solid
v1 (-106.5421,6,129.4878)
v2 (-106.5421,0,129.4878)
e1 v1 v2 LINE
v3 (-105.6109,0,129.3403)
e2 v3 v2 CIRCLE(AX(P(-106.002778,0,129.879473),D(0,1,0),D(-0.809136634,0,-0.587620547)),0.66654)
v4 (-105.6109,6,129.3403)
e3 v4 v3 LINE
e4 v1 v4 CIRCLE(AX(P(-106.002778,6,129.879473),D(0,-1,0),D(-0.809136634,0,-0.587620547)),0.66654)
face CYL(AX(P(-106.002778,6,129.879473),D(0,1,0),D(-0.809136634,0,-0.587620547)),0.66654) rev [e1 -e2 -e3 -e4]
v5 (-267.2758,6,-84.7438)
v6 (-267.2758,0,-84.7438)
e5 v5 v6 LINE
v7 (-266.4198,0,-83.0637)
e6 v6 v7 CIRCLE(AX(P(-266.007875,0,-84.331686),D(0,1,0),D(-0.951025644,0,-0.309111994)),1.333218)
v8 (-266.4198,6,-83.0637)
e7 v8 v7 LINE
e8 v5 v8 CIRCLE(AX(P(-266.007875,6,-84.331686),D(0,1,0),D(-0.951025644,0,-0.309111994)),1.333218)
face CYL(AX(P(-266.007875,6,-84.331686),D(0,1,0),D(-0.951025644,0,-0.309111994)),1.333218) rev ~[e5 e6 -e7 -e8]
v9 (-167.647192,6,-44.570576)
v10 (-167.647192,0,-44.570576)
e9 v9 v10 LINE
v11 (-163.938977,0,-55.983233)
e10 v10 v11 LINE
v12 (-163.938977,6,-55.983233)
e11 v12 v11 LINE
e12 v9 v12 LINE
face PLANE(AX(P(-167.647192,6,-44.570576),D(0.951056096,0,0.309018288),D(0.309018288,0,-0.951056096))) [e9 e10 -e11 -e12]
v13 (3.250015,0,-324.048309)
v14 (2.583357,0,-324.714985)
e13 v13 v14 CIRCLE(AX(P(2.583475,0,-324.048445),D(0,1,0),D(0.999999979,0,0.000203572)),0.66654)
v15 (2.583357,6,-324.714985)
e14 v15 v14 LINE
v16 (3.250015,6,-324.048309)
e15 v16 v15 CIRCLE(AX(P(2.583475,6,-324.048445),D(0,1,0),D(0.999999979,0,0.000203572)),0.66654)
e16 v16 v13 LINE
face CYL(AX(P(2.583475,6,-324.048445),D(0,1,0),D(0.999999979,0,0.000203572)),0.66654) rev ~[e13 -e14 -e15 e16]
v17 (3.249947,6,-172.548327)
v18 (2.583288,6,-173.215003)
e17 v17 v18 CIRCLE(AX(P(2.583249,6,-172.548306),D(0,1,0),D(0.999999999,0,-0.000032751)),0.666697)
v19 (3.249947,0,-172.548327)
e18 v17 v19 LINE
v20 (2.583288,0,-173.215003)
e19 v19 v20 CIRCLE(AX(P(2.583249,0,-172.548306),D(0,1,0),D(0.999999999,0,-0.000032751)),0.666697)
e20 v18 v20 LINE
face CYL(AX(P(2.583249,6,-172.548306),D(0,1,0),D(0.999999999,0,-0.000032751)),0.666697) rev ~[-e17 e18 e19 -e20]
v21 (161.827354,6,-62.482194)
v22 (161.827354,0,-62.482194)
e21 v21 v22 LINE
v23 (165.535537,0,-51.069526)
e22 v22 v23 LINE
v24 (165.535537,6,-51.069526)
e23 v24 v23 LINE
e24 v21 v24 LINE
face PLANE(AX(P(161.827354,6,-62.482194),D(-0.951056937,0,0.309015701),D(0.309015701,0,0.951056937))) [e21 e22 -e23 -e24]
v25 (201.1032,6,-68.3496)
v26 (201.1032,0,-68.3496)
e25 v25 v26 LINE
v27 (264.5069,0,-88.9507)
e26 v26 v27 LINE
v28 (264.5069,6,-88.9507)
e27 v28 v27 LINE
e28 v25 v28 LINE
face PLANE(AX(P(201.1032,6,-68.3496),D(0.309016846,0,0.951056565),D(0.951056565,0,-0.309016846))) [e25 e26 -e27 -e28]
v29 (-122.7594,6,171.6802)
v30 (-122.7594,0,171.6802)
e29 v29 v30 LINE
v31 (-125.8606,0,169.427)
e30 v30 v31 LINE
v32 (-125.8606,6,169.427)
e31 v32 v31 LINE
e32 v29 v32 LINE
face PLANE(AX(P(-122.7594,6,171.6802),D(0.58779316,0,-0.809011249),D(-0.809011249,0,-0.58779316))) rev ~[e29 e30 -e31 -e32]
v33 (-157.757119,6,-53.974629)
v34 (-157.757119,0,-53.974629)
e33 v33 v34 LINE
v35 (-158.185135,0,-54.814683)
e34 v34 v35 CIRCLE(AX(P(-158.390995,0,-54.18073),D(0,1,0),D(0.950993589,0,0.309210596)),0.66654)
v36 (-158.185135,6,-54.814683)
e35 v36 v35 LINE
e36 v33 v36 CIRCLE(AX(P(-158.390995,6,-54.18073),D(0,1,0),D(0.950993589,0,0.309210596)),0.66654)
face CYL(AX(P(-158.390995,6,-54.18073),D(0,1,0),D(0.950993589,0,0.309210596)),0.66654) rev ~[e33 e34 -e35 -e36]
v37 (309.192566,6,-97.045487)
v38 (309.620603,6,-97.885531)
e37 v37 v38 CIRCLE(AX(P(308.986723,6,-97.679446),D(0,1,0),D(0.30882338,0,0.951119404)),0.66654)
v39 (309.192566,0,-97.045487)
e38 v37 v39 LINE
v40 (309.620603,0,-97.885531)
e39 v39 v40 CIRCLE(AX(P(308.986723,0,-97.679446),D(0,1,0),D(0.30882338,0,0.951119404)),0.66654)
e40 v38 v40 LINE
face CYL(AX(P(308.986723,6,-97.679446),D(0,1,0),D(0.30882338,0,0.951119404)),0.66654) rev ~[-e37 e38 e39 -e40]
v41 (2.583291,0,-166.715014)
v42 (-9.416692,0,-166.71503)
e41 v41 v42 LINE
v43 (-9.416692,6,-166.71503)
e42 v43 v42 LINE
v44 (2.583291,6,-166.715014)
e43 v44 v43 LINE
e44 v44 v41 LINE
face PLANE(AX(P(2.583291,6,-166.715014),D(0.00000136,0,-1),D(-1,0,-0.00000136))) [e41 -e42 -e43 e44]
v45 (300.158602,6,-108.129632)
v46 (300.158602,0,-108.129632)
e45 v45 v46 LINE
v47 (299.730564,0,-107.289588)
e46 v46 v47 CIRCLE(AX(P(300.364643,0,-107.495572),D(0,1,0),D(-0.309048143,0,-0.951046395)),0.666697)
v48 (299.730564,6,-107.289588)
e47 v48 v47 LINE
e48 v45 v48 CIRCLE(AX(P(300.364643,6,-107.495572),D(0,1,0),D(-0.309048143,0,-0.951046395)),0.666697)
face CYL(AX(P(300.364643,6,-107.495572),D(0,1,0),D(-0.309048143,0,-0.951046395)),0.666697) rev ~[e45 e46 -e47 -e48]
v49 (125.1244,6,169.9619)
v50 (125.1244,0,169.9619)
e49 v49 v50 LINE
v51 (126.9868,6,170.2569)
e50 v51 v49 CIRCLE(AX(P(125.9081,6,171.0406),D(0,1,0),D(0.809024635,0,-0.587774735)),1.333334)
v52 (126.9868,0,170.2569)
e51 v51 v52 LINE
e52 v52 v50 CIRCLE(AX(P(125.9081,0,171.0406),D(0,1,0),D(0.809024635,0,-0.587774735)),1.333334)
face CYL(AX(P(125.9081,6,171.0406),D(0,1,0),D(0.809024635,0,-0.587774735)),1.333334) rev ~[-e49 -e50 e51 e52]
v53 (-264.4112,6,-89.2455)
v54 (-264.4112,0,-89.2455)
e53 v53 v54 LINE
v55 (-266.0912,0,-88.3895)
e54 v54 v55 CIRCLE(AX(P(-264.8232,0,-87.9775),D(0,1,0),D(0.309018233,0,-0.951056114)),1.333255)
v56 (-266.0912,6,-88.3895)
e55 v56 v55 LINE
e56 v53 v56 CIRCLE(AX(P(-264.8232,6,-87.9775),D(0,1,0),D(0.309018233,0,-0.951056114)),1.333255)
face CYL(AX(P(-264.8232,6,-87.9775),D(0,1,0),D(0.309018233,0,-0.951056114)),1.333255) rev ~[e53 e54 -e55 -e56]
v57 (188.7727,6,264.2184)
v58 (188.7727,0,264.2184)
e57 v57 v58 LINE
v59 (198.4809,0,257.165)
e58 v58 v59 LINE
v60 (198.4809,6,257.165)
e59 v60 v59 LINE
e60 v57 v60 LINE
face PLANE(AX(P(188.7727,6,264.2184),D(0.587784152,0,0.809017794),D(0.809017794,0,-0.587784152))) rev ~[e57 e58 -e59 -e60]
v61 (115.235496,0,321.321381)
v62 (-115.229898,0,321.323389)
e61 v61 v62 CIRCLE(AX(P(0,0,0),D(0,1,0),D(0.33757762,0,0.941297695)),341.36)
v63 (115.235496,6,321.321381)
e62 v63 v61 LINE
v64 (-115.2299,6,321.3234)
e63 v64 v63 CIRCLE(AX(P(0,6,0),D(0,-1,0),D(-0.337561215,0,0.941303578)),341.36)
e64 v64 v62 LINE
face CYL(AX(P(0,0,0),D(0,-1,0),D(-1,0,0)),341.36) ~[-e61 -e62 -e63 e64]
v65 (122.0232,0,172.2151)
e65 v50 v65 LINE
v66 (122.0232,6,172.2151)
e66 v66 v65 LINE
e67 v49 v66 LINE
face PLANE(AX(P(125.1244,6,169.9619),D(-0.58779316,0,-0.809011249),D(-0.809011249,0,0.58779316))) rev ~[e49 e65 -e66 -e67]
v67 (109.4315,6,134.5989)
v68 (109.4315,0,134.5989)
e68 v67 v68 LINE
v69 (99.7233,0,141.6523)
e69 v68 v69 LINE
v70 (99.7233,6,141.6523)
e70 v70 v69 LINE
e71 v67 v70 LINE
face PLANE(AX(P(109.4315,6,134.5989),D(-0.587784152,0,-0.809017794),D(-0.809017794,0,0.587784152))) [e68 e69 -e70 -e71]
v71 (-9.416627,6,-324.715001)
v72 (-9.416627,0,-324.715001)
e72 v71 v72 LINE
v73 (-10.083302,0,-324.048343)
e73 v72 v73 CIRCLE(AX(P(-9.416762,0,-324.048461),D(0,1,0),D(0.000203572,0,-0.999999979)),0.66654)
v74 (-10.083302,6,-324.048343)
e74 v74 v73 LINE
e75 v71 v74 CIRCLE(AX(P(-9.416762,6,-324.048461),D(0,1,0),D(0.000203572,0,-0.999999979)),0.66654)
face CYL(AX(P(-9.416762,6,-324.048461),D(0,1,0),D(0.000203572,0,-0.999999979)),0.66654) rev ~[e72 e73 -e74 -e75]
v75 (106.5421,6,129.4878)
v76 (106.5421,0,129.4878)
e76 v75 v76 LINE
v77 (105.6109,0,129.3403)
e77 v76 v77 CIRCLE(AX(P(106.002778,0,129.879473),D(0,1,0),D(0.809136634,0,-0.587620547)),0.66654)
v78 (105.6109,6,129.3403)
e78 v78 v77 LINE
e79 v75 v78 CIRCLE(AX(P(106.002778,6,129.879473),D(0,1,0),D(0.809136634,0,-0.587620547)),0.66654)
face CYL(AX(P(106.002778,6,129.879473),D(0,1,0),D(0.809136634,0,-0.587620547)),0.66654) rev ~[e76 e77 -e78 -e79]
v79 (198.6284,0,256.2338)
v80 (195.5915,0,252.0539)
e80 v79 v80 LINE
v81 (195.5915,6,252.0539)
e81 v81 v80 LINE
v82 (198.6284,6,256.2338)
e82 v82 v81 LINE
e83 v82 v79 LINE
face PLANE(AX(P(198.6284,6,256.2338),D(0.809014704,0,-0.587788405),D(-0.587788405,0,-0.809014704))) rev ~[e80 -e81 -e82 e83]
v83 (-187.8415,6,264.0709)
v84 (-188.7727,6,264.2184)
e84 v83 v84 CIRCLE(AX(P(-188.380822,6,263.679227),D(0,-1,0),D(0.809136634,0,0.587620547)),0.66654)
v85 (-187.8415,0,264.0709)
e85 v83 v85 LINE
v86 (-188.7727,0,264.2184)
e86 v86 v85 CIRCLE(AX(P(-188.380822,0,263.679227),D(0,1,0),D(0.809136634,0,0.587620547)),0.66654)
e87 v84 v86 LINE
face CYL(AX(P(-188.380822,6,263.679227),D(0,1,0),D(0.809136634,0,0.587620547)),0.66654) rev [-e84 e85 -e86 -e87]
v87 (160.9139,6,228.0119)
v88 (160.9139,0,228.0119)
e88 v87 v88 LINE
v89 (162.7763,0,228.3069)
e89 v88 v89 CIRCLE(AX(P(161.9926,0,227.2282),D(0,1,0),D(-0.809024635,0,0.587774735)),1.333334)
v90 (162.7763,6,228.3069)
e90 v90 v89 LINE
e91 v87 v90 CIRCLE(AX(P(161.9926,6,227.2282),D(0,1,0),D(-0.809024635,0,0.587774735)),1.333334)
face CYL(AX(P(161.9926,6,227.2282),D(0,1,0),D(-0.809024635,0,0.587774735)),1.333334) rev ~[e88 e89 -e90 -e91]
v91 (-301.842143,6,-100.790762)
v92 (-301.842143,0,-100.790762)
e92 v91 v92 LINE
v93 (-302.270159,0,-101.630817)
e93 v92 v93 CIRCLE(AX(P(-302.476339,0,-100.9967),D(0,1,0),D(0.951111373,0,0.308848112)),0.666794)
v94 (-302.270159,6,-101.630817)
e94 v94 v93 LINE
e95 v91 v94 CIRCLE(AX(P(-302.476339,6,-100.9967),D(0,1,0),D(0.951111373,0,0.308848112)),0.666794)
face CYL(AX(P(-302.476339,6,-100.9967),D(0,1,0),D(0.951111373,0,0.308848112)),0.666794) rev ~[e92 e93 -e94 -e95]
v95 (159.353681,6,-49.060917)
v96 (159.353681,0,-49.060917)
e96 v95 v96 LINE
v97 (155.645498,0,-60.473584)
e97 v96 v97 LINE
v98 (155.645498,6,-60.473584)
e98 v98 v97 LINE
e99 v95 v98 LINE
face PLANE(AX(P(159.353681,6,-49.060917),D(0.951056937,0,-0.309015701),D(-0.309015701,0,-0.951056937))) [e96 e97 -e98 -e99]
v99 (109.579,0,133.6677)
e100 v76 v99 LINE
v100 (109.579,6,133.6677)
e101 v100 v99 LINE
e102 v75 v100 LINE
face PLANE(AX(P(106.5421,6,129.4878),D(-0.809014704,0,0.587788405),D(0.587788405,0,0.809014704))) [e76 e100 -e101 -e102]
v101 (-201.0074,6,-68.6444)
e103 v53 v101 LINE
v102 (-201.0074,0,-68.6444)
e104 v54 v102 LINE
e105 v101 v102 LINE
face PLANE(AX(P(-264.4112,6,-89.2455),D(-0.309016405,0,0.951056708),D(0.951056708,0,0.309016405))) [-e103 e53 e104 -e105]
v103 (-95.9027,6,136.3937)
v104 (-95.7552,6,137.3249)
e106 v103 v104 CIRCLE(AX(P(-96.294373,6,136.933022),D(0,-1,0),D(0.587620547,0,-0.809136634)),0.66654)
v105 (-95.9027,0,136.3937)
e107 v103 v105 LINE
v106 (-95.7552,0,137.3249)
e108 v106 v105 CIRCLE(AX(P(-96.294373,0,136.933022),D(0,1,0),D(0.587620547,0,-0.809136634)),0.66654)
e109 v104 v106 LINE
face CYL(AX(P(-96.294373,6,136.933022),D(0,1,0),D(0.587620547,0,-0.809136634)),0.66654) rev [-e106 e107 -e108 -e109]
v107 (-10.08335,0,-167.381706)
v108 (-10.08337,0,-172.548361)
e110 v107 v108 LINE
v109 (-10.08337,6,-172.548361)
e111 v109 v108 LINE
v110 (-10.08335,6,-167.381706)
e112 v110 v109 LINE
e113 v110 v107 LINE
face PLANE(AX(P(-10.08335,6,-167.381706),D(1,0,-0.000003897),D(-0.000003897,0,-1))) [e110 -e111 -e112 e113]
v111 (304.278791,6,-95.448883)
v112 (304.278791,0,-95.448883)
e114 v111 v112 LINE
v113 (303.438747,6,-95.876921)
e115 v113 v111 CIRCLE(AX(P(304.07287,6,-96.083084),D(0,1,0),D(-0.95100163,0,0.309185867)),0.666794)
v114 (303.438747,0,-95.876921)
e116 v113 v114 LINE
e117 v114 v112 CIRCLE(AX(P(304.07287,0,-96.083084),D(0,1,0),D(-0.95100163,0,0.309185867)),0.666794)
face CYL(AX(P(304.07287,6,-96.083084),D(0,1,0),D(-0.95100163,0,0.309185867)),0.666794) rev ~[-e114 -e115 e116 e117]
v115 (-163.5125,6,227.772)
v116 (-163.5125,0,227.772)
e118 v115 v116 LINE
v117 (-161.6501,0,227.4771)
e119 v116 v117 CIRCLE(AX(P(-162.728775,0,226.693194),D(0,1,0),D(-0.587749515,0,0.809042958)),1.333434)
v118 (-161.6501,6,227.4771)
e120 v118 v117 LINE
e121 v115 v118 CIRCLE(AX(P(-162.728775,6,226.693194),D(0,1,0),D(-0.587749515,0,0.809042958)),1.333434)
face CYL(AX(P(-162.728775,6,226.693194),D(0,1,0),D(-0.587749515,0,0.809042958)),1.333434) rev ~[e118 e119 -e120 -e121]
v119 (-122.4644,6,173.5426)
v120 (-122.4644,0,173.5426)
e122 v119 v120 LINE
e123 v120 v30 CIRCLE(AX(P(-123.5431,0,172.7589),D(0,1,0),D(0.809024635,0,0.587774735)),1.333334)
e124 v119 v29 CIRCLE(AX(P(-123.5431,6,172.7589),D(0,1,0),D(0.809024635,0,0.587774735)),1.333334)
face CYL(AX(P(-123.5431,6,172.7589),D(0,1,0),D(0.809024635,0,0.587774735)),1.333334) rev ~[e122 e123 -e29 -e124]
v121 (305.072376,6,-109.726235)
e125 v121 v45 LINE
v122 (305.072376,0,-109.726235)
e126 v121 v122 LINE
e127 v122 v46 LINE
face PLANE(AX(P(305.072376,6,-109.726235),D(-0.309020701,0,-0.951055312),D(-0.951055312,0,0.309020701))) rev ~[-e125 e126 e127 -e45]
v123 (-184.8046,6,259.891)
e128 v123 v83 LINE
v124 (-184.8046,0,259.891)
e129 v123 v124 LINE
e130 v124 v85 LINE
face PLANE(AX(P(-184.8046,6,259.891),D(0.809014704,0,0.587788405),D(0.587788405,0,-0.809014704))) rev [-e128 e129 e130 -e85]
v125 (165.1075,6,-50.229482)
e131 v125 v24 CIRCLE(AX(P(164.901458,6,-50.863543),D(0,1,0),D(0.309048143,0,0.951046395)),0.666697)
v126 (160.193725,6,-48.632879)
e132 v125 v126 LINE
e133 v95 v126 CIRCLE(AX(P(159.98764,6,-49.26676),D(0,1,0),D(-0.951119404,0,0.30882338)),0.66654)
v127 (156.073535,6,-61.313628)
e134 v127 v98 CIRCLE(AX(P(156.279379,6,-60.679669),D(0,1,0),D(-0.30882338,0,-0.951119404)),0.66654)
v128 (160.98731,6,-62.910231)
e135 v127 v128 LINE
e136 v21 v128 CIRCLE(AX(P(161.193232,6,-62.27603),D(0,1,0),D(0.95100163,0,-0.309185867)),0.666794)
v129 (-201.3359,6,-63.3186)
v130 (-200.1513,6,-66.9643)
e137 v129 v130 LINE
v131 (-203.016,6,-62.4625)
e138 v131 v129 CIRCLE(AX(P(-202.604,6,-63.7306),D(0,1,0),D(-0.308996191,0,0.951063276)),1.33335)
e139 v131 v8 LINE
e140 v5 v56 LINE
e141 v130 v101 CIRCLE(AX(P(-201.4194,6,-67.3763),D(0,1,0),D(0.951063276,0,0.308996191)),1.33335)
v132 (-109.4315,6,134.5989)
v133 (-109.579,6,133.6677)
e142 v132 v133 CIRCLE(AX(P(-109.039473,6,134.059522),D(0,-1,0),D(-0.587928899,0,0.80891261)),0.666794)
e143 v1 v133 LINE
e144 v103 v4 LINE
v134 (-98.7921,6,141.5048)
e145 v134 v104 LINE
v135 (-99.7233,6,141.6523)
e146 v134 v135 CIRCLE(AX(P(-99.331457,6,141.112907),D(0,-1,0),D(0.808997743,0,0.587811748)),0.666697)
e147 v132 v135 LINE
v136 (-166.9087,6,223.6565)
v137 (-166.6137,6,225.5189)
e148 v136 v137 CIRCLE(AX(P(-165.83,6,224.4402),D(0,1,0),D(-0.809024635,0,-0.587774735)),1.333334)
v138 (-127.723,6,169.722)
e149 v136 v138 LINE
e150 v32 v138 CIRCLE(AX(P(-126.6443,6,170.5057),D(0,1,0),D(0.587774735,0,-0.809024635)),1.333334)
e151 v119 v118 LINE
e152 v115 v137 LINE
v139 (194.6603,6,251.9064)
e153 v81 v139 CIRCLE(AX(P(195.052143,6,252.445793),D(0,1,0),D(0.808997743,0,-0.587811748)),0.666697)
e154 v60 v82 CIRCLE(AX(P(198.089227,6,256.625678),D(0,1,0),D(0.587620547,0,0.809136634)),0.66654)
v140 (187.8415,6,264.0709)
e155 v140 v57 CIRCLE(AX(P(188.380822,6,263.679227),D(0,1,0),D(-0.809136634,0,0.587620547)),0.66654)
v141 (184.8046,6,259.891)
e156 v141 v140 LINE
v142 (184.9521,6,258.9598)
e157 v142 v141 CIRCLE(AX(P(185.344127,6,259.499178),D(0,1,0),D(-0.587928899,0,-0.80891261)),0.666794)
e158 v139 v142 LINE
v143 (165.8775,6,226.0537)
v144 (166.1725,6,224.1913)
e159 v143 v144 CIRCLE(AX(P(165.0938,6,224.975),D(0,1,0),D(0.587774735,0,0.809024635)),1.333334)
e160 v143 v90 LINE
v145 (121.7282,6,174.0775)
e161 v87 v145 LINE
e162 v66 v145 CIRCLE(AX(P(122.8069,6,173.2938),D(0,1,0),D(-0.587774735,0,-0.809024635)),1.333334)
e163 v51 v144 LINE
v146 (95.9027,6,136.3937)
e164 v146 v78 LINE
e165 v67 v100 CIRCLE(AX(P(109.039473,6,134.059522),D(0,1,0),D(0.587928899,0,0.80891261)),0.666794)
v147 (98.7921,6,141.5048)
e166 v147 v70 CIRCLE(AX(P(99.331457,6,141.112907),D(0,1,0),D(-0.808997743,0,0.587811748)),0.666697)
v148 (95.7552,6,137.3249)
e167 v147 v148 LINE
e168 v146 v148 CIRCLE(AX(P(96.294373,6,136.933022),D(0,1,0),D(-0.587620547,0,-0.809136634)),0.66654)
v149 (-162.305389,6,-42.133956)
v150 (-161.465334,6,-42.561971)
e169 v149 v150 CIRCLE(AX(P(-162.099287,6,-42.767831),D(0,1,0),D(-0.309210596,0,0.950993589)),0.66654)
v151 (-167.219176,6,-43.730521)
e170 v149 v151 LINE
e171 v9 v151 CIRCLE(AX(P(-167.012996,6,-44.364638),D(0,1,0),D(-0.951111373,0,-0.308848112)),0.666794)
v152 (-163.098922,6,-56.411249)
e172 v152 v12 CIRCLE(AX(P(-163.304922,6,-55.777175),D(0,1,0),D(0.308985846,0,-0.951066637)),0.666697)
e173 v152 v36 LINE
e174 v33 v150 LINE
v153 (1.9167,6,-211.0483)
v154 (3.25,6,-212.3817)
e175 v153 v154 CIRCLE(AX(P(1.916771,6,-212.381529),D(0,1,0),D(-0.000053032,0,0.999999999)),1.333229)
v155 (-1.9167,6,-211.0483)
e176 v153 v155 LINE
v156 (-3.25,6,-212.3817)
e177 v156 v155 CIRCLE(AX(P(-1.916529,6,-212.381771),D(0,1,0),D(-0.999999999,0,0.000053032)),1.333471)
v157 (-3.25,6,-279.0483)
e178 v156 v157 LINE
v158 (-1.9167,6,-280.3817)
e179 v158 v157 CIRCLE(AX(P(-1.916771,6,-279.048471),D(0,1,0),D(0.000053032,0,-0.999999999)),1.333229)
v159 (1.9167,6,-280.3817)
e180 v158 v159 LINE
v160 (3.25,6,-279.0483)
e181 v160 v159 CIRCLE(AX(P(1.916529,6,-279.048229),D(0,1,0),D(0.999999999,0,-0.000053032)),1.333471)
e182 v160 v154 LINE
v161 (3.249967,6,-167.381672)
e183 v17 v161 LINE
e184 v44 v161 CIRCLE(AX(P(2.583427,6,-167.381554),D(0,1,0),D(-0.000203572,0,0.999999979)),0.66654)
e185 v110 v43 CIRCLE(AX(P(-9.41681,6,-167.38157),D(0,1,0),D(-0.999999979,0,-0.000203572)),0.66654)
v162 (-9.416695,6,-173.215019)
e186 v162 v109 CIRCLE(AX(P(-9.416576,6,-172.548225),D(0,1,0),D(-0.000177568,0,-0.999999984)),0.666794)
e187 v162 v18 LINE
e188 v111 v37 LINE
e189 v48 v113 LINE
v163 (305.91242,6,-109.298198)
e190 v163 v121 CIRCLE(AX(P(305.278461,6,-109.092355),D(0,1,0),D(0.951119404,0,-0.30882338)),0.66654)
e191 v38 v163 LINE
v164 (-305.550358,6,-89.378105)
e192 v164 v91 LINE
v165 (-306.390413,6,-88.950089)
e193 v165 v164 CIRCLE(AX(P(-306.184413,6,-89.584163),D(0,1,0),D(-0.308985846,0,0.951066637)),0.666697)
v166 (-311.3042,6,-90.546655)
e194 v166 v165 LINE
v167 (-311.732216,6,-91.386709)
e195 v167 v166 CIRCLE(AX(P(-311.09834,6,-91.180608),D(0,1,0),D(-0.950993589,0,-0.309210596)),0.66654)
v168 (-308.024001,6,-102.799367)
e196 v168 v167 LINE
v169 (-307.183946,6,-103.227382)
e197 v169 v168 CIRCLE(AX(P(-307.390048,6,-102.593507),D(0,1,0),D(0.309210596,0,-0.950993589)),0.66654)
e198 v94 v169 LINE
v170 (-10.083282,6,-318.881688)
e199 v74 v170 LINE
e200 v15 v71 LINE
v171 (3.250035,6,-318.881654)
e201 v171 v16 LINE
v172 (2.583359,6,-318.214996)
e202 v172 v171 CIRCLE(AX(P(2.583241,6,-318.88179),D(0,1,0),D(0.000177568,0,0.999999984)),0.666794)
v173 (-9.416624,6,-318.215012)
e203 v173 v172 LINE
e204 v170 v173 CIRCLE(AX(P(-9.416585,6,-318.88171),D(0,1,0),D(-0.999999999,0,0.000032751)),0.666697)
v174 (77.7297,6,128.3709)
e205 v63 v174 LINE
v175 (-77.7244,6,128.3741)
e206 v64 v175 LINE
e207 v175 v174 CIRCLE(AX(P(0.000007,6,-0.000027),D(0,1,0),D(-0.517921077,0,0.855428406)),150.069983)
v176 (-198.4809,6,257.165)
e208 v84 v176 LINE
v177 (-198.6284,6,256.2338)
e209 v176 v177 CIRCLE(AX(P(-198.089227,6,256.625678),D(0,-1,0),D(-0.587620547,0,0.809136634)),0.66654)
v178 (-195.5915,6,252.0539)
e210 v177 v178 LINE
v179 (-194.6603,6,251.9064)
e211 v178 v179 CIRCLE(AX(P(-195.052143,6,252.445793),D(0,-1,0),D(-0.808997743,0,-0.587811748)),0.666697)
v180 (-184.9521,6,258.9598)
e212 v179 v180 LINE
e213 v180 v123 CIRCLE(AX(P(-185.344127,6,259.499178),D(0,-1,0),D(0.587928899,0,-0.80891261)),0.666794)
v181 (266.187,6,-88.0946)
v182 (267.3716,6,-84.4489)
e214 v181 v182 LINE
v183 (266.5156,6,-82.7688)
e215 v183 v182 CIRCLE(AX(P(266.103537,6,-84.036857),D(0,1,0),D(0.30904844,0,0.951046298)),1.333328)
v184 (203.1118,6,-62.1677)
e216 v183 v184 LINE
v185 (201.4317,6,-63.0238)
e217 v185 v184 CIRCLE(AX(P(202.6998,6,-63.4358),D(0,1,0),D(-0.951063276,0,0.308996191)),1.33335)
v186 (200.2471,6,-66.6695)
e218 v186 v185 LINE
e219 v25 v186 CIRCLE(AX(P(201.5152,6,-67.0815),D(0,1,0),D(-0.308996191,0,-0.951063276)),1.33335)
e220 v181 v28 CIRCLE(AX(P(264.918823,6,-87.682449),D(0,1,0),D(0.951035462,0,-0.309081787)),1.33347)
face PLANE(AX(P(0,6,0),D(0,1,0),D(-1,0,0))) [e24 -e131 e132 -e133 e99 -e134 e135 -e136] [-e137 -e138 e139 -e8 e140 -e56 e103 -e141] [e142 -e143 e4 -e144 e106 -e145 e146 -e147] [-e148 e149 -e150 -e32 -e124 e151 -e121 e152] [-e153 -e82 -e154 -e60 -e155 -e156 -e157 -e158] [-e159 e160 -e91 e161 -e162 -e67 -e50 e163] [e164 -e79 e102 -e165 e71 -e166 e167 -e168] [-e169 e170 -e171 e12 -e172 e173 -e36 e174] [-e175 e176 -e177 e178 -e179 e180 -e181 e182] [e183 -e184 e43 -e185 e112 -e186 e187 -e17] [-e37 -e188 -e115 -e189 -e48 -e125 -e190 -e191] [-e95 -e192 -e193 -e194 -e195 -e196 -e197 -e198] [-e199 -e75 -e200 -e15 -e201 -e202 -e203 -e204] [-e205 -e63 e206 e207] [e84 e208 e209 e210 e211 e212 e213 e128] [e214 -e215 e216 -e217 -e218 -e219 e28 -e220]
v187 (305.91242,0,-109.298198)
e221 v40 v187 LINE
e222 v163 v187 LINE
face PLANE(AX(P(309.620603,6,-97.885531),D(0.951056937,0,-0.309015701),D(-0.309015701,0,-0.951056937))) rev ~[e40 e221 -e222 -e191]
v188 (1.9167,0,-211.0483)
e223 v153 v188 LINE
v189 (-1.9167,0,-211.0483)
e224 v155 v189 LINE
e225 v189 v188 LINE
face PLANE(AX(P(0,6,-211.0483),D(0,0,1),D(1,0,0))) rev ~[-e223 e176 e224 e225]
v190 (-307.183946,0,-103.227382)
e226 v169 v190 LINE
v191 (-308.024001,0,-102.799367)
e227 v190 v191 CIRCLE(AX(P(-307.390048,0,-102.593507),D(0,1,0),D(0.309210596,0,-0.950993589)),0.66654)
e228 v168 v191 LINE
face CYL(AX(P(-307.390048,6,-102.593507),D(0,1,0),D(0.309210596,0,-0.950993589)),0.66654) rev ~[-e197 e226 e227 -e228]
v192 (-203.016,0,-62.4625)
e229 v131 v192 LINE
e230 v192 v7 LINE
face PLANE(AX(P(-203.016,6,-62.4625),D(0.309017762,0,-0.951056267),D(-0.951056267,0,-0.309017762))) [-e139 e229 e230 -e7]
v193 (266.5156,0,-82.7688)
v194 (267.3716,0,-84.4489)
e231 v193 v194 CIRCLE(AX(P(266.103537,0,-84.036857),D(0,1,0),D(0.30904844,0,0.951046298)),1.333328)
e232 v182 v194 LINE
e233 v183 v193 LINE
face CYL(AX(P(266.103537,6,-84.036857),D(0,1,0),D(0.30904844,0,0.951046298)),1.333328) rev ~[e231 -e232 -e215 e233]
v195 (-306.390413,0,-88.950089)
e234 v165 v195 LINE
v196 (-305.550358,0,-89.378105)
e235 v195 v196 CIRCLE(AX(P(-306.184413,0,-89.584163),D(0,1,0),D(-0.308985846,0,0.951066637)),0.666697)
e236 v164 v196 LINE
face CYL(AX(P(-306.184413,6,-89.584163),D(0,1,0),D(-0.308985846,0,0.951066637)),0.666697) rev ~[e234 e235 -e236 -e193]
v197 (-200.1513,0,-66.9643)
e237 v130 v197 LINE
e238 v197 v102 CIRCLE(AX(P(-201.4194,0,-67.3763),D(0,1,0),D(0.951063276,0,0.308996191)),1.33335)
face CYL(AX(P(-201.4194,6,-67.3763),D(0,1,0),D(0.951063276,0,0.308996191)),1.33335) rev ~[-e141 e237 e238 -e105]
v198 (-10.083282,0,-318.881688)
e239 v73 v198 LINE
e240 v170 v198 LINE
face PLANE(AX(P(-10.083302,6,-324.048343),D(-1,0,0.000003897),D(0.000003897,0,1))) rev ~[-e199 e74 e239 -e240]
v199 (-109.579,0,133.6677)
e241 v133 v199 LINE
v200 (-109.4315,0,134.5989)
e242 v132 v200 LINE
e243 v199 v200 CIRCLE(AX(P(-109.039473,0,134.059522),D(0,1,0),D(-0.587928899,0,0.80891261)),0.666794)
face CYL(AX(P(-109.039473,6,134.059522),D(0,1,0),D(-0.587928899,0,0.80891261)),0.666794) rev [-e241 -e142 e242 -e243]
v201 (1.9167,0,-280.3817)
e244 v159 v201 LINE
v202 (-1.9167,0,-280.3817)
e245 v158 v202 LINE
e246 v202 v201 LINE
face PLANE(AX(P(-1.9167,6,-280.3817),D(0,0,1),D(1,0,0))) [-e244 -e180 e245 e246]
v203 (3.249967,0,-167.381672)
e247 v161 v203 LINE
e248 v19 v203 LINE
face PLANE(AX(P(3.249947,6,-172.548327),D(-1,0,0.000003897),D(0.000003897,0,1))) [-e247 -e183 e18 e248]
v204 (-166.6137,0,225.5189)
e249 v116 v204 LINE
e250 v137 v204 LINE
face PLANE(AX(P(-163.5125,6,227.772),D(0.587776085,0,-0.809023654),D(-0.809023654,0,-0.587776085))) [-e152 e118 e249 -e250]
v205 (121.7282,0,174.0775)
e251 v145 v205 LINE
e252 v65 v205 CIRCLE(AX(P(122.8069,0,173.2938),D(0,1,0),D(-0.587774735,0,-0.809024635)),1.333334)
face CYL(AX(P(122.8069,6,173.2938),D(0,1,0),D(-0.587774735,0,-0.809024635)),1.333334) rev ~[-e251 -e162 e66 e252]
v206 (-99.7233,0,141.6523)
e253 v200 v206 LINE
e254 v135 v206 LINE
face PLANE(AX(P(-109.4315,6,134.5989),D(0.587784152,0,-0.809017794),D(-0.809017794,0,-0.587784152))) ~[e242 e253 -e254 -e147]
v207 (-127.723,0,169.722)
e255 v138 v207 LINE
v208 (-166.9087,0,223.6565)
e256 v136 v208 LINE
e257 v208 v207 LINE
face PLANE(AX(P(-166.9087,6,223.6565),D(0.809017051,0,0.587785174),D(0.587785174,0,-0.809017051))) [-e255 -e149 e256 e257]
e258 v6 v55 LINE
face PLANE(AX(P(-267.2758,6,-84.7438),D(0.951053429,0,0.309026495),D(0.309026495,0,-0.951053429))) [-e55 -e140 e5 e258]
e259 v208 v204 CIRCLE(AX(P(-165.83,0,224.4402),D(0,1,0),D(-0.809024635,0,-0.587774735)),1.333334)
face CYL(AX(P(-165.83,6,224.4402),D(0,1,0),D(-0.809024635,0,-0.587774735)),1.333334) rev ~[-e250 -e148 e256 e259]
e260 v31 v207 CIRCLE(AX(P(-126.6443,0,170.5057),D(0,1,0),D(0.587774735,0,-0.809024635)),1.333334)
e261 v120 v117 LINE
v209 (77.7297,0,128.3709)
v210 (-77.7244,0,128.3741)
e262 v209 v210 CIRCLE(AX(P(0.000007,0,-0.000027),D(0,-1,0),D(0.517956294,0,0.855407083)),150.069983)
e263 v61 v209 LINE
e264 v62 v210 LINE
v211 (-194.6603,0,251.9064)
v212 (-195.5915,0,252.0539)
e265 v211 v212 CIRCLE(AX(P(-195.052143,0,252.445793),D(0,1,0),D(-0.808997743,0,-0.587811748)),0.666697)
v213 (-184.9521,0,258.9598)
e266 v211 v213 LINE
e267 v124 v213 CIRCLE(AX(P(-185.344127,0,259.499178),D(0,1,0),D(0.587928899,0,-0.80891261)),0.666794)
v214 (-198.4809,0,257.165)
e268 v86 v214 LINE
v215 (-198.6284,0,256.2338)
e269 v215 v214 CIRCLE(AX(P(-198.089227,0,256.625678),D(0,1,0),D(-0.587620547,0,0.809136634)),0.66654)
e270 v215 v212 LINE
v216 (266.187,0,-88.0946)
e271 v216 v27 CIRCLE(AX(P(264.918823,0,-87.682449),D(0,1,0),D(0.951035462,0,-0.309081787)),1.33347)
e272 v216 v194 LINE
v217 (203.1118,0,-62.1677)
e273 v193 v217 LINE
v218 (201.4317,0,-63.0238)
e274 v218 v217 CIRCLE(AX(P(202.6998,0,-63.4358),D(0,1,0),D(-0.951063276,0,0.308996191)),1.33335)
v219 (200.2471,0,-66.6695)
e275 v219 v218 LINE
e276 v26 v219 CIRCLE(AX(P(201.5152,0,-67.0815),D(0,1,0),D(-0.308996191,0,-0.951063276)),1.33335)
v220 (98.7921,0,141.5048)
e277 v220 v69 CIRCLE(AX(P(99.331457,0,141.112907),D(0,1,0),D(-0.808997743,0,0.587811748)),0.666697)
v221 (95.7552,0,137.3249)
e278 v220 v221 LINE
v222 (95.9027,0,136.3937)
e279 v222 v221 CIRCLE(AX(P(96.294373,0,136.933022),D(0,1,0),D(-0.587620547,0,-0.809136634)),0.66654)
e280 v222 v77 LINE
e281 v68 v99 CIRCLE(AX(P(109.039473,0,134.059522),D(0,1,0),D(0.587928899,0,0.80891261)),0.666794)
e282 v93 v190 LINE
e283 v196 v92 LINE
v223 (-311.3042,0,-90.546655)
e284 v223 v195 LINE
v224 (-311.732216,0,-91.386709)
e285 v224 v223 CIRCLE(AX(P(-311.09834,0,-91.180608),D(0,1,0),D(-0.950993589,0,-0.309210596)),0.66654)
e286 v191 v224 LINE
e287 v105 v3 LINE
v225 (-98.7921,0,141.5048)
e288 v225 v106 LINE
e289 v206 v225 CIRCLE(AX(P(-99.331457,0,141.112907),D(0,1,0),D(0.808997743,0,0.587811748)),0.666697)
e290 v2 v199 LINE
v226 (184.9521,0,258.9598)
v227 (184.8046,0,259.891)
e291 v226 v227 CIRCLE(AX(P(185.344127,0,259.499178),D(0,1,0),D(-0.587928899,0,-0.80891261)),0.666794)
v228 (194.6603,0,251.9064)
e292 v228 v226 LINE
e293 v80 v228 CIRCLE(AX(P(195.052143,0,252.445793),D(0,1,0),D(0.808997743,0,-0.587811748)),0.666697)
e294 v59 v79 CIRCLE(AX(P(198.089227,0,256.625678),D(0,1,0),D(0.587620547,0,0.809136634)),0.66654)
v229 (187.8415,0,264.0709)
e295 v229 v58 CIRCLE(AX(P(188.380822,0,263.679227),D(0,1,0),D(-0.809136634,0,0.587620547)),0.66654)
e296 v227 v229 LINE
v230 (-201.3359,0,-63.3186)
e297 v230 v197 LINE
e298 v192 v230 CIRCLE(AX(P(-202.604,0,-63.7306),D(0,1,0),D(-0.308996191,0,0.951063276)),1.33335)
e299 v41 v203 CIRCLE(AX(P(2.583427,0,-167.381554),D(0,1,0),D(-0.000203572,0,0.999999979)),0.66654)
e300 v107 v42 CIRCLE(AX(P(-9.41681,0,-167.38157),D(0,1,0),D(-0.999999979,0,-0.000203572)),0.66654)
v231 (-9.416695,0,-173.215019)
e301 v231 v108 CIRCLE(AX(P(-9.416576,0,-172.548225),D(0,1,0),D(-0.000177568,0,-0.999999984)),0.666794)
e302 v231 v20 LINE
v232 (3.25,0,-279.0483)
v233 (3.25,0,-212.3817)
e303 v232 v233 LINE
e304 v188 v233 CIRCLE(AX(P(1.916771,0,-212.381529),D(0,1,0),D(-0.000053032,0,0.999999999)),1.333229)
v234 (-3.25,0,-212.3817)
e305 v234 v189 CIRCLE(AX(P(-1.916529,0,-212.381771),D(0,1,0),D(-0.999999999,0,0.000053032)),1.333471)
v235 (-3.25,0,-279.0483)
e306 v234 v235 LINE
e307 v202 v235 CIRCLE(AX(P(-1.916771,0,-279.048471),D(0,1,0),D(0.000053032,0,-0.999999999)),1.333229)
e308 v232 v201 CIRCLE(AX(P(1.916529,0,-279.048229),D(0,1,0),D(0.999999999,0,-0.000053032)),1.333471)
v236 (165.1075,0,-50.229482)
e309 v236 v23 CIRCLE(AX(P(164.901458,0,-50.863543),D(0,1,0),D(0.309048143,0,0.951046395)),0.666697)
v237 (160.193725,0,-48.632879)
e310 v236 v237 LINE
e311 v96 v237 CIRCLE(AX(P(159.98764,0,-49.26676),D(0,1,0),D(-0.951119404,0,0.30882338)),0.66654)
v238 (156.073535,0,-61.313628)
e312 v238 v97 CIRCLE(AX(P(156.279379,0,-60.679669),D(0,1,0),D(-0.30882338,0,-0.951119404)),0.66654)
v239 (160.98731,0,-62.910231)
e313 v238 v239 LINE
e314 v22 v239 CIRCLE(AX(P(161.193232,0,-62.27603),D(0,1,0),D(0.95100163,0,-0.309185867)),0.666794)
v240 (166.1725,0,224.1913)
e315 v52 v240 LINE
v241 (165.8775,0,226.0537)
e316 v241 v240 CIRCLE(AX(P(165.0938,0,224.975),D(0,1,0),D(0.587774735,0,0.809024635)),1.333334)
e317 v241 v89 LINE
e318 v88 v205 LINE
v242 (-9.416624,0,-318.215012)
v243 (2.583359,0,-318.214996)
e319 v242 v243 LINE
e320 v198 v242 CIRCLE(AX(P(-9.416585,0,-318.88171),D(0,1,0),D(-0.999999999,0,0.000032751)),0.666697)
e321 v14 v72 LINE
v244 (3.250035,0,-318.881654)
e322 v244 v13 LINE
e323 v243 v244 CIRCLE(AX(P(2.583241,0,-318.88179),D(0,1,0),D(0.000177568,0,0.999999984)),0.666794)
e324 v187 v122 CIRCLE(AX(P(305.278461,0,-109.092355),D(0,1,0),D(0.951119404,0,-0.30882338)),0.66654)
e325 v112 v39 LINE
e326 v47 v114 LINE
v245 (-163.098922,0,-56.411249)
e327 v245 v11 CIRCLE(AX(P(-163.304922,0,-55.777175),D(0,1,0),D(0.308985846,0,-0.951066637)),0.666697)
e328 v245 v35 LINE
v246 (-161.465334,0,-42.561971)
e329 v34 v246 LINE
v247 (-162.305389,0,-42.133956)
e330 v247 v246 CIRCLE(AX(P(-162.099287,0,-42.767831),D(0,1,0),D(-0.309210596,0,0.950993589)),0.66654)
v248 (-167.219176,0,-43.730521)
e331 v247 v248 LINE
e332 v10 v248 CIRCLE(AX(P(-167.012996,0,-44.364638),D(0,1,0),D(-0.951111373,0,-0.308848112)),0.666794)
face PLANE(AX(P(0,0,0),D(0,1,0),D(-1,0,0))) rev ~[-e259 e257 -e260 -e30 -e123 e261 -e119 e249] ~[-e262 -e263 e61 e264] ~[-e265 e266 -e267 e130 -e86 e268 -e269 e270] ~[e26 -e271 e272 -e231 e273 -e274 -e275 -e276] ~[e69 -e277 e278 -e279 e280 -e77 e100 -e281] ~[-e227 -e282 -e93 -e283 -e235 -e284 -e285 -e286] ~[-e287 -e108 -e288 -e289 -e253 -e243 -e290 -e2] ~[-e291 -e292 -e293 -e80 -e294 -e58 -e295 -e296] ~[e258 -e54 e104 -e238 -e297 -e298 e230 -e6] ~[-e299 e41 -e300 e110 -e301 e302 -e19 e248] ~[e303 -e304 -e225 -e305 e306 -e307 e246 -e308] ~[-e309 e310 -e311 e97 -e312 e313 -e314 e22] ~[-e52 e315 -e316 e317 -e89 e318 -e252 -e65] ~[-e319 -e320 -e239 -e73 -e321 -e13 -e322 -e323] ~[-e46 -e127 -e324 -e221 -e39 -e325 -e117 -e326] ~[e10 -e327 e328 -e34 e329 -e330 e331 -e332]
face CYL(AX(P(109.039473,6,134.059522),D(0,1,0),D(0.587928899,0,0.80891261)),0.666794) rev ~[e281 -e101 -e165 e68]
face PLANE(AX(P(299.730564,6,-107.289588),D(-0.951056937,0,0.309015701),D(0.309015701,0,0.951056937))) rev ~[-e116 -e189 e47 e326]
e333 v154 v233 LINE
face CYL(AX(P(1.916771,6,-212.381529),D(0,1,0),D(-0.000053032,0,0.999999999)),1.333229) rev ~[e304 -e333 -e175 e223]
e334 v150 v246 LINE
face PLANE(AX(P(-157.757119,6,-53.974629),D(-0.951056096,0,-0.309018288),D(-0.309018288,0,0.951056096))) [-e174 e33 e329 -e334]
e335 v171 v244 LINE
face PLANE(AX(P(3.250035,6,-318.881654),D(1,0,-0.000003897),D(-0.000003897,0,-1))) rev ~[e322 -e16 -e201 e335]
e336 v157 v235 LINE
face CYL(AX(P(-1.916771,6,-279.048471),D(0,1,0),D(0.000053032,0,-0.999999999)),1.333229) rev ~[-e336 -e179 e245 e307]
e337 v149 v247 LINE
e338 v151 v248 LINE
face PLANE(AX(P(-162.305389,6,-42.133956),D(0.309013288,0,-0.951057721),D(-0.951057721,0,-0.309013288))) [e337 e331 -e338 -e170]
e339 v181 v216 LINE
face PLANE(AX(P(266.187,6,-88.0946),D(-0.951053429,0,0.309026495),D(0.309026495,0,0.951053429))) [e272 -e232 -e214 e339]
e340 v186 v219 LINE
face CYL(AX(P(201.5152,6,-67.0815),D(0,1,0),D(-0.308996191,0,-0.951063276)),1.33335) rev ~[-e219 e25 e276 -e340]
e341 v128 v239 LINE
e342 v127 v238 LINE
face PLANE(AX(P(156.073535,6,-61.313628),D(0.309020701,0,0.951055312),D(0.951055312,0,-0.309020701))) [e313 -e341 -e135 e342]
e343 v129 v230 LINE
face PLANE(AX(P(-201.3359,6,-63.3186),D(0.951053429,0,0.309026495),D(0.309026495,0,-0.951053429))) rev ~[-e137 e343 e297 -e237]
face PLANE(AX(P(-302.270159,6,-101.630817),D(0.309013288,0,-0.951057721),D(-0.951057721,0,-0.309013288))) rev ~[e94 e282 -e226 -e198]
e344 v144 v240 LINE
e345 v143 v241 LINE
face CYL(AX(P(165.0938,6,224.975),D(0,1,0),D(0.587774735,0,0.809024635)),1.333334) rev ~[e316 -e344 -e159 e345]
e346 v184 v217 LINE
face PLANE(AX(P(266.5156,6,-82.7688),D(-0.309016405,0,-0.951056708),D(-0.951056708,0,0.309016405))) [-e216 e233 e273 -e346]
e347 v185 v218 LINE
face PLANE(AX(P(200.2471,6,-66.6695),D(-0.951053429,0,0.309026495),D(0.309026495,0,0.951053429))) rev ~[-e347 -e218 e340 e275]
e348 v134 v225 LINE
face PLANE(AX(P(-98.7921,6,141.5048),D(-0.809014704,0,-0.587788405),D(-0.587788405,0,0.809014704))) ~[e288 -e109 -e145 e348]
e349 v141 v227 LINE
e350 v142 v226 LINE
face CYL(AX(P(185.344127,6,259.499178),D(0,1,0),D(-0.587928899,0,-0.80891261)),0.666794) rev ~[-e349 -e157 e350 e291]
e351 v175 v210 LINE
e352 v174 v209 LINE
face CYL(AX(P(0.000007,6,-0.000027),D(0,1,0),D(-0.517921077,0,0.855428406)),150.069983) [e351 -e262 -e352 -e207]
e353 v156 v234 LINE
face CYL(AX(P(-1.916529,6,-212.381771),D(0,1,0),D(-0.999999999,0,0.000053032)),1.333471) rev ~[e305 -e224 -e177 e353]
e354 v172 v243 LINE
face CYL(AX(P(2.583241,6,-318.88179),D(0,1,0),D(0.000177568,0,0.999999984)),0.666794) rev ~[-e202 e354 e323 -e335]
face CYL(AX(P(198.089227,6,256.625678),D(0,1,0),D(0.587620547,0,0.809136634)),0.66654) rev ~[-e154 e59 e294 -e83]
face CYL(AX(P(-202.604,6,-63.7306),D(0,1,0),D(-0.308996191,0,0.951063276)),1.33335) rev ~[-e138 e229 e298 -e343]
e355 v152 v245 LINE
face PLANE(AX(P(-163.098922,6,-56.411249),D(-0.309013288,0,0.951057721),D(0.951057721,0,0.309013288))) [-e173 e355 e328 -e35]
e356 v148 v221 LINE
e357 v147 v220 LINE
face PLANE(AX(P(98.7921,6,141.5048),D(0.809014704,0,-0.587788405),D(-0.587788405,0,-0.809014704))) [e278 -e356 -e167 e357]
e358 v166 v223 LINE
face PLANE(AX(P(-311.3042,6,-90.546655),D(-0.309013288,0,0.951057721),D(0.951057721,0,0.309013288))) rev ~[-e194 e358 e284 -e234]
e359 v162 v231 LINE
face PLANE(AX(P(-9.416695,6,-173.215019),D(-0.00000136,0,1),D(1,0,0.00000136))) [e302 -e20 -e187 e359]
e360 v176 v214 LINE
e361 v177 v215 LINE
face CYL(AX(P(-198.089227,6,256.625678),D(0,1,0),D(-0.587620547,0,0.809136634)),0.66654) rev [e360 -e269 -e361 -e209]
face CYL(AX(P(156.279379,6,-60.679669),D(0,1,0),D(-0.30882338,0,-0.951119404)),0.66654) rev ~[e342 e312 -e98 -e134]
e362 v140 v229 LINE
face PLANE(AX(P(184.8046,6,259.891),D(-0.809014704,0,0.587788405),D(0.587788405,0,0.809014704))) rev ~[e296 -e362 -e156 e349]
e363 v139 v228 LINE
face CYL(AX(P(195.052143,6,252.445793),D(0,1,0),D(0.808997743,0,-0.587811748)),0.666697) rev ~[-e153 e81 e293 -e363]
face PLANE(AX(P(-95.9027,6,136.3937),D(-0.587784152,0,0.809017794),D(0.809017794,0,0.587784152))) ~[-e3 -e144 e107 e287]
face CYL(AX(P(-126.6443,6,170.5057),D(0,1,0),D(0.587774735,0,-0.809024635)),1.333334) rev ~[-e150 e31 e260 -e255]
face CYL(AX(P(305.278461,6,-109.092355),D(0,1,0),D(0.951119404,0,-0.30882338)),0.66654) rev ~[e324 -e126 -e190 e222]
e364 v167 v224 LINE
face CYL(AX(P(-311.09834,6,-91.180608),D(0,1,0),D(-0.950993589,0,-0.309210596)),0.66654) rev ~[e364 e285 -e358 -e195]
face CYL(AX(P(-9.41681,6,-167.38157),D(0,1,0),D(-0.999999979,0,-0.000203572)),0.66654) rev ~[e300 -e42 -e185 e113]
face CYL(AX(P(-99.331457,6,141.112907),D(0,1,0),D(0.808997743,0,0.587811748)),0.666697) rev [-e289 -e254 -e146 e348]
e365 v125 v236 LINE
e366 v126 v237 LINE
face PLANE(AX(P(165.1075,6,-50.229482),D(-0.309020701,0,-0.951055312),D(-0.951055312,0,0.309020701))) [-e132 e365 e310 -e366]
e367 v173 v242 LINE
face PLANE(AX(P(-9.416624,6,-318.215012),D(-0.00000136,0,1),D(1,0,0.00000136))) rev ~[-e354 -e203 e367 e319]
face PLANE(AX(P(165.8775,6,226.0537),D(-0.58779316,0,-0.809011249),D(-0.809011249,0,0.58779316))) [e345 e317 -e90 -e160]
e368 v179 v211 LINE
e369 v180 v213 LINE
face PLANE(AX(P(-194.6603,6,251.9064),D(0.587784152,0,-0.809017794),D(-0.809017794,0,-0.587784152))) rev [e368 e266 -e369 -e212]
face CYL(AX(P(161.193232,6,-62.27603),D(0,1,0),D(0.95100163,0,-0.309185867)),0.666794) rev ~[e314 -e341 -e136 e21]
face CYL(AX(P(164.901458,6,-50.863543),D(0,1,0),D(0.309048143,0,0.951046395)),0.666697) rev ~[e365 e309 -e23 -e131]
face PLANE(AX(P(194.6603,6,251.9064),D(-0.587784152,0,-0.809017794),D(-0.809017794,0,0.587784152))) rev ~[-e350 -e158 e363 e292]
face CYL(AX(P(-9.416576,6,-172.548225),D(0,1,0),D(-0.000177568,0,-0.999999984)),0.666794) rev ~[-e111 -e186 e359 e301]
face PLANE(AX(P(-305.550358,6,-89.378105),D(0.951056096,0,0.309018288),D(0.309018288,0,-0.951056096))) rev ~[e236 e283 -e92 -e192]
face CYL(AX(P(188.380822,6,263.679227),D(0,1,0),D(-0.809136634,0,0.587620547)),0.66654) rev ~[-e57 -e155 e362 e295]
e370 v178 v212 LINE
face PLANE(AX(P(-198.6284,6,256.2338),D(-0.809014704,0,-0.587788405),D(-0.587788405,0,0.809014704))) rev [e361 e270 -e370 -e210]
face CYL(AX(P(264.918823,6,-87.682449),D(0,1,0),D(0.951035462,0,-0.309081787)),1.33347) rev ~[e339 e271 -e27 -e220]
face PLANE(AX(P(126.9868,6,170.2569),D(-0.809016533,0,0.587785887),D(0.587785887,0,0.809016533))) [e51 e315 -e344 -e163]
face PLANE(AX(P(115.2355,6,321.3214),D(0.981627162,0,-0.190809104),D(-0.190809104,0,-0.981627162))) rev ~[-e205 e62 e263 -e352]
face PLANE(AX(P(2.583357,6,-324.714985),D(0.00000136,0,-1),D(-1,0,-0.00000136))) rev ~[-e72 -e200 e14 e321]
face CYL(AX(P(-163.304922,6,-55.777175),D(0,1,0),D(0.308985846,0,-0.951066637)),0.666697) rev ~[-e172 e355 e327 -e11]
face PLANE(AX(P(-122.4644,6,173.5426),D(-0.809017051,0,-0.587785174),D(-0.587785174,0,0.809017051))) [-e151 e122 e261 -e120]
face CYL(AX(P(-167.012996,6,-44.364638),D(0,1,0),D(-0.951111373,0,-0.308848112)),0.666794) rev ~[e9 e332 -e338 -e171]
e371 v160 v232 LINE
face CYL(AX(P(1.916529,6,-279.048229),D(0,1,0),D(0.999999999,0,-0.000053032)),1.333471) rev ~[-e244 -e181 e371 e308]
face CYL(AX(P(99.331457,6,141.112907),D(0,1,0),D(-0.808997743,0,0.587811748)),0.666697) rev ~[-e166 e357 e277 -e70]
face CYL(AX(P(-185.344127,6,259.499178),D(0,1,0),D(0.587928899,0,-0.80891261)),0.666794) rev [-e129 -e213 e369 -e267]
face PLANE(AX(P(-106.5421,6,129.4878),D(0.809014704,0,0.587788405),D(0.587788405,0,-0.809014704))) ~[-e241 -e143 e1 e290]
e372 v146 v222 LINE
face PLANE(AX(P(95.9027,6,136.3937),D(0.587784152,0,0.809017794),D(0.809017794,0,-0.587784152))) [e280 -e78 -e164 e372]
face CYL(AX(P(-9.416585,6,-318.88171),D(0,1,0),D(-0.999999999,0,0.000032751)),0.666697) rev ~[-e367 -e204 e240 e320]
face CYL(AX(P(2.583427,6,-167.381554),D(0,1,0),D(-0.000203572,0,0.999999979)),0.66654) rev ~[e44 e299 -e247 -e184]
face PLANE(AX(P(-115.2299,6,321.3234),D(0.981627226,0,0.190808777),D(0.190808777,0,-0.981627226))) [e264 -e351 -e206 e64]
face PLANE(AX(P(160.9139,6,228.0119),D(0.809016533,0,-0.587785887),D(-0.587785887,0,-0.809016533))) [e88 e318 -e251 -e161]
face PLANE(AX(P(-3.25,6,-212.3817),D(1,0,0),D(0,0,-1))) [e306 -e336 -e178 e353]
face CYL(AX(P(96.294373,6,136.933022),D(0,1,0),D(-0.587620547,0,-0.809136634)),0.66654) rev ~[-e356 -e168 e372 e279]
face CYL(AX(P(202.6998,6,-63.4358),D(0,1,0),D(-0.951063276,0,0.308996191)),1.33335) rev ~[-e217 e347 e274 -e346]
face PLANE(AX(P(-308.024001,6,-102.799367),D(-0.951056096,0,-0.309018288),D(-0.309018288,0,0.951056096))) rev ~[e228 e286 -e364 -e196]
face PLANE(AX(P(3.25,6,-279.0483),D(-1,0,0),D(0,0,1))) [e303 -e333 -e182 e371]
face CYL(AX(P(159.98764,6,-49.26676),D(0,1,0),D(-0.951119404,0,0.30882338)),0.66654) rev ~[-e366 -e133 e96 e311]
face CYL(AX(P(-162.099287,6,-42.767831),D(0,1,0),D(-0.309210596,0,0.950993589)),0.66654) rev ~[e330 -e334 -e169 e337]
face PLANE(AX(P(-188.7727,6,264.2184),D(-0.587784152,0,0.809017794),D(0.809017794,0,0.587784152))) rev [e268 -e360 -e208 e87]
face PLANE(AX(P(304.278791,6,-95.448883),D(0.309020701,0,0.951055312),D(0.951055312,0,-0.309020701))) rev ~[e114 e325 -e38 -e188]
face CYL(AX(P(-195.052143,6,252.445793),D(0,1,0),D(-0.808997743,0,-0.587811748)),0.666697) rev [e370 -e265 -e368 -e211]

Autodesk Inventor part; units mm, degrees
ref_plane "YZ Plane" through (0, 0, 0) normal (1, 0, 0) x (0, 1, 0)
ref_plane "XZ Plane" through (0, 0, 0) normal (0, 1, 0) x (-1, 0, 0)
ref_plane "XY Plane" through (0, 0, 0) normal (0, 0, 1) x (1, 0, 0)
sketch "Sketch1" plane through (0, 0, 0) normal (0, 1, 0) x (-1, 0, 0)
  circle A0 centre (0, 0) radius 341.36
  circle A1 centre (0, 0) radius 150.07
  dimension "d84" = 300.14
  dimension "d85" = 682.72
extrude "Extrusion3" add sketch "Sketch1" along normal blind 6 contours A0 | A1
sketch "Sketch2" plane through (0, 6, 0) normal (0, 1, 0) x (1, 0, 0)
  circle A0 centre (0, 0) radius 245.715 construction
  line L0 (245.7148, 0.3131) -> (341.6521, -0.0088)
  line L1 (3.25, 279.0483) -> (3.25, 212.3817)
  line L2 (-3.25, 212.3817) -> (-3.25, 279.0483)
  arc A1 (-3.25, 212.3817) -> (-1.9167, 211.0483) centre (-1.9167, 212.3817) ccw
  arc A2 (1.9167, 211.0483) -> (3.25, 212.3817) centre (1.9167, 212.3817) ccw
  arc A3 (-1.9167, 280.3817) -> (-3.25, 279.0483) centre (-1.9167, 279.0483) ccw
  arc A4 (3.25, 279.0483) -> (1.9167, 280.3817) centre (1.9167, 279.0483) ccw
  line L3 (-1.9167, 280.3817) -> (1.9167, 280.3817)
  line L4 (-1.9167, 211.0483) -> (1.9167, 211.0483)
  line L5 (0, 0) -> (0, 212.3817)
  line L6 (0, 280.3817) -> (0, 341.36)
  line L7 (0, 211.0483) -> (0, 245.715) construction
  line L8 (0, 280.3817) -> (0, 245.715) construction
  line L9 (-266.6835, 86.5666) -> (-233.7136, 75.854) construction
  line L10 (-264.4112, 89.2455) -> (-201.0074, 68.6444)
  arc A5 (-200.1513, 66.9643) -> (-201.0074, 68.6444) centre (-201.4194, 67.3763) ccw
  line L11 (-200.7436, 65.1414) -> (-233.7136, 75.854) construction
  line L12 (-201.3359, 63.3186) -> (-200.1513, 66.9643)
  line L13 (-267.2758, 84.7438) -> (-266.0912, 88.3895)
  line L14 (-203.016, 62.4625) -> (-266.4198, 83.0637)
  arc A6 (-203.016, 62.4625) -> (-201.3359, 63.3186) centre (-202.604, 63.7306) ccw
  arc A7 (-267.2758, 84.7438) -> (-266.4198, 83.0637) centre (-266.0077, 84.3317) ccw
  arc A8 (-264.4112, 89.2455) -> (-266.0912, 88.3895) centre (-264.8232, 87.9775) ccw
  line L15 (-165.0631, -226.6454) -> (-144.6865, -198.5995) construction
  line L16 (-166.9087, -223.6565) -> (-127.723, -169.722)
  arc A9 (-125.8606, -169.427) -> (-127.723, -169.722) centre (-126.6443, -170.5057) ccw
  line L17 (-124.31, -170.5536) -> (-144.6865, -198.5995) construction
  line L18 (-122.7594, -171.6802) -> (-125.8606, -169.427)
  line L19 (-163.5125, -227.772) -> (-166.6137, -225.5189)
  line L20 (-122.4644, -173.5426) -> (-161.6501, -227.4771)
  arc A10 (-122.4644, -173.5426) -> (-122.7594, -171.6802) centre (-123.5431, -172.7589) ccw
  arc A11 (-163.5125, -227.772) -> (-161.6501, -227.4771) centre (-162.7288, -226.6933) ccw
  arc A12 (-166.9087, -223.6565) -> (-166.6137, -225.5189) centre (-165.83, -224.4402) ccw
  line L21 (164.8042, -226.8335) -> (144.4277, -198.7876) construction
  line L22 (160.9139, -228.0119) -> (121.7282, -174.0775)
  arc A13 (122.0232, -172.2151) -> (121.7282, -174.0775) centre (122.8069, -173.2938) ccw
  line L23 (123.5738, -171.0885) -> (144.4277, -198.7876) construction
  line L24 (125.1244, -169.9619) -> (122.0232, -172.2151)
  line L25 (165.8775, -226.0537) -> (162.7763, -228.3069)
  line L26 (126.9868, -170.2569) -> (166.1725, -224.1913)
  arc A14 (126.9868, -170.2569) -> (125.1244, -169.9619) centre (125.9081, -171.0406) ccw
  arc A15 (165.8775, -226.0537) -> (166.1725, -224.1913) centre (165.0938, -224.975) ccw
  arc A16 (160.9139, -228.0119) -> (162.7763, -228.3069) centre (161.9926, -227.2282) ccw
  line L27 (266.7793, 86.2718) -> (233.8094, 75.5592) construction
  line L28 (266.5156, 82.7688) -> (203.1118, 62.1677)
  arc A17 (201.4317, 63.0238) -> (203.1118, 62.1677) centre (202.6998, 63.4358) ccw
  line L29 (200.8394, 64.8466) -> (233.8094, 75.5592) construction
  line L30 (200.2471, 66.6695) -> (201.4317, 63.0238)
  line L31 (266.187, 88.0946) -> (267.3716, 84.4489)
  line L32 (201.1032, 68.3496) -> (264.5069, 88.9507)
  arc A18 (201.1032, 68.3496) -> (200.2471, 66.6695) centre (201.5152, 67.0815) ccw
  arc A19 (266.187, 88.0946) -> (264.5069, 88.9507) centre (264.919, 87.6826) ccw
  arc A20 (266.5156, 82.7688) -> (267.3716, 84.4489) centre (266.1035, 84.0369) ccw
  point P0 (-202.0117, 65.5535)
  point P1 (-125.0937, -171.6323)
  point P2 (124.8348, -171.8204)
  point P3 (202.1075, 65.2586)
  dimension "d21" = 6.5
  dimension "d24" = 2.6667
  dimension "d25" = 2.6667
  dimension "d32" = 1.3333
  dimension "d33" = 1.3333
  dimension "d41" = 90
  dimension "d42" = 3.25
  dimension "d43" = 90
  dimension "d86" = 491.43
extrude "Extrusion4" cut sketch "Sketch2" against normal through all
sketch "Sketch3" plane through (0, 6, 0) normal (0, 1, 0) x (1, 0, 0)
  arc A0 (-115.2299, -321.3234) -> (115.2355, -321.3214) centre (0, 0) ccw
  arc A1 (-77.7244, -128.3741) -> (77.7297, -128.3709) centre (0, 0) ccw
  line L0 (-122.1811, -173.696) -> (-161.3589, -227.6196)
  line L1 (-115.2299, -321.3234) -> (-77.7244, -128.3741)
  line L2 (0, 0) -> (0, -341.2918)
  line L3 (115.2355, -321.3214) -> (77.7297, -128.3709)
  line L4 (161.3912, -227.6651) -> (122.2055, -173.7307) projected
  dimension "d52" = 25
  dimension "d87" = 150.07
  dimension "d88" = 341.36
  dimension "d89" = 25
  dimension "d90" = 11
  dimension "d91" = 11
extrude "Extrusion5" cut sketch "Sketch3" against normal blind 10
sketch "Sketch5" plane through (0, 6, 0) normal (0, 1, 0) x (1, 0, 0)
  line L0 (3.25, 279.0483) -> (3.25, 212.3817) projected
  line L1 (5.5862, 197.9634) -> (-6.155, 194.8174)
  line L2 (-11.2263, 301.7146) -> (10.5847, 293.3421)
  line L3 (6.5657, 149.9554) -> (8.9394, 195.248)
  line L4 (14.2034, 295.6921) -> (16.5771, 340.9846)
  arc A0 (10.5847, 293.3421) -> (14.2034, 295.6921) centre (11.5404, 295.8316) ccw
  arc A1 (8.9394, 195.248) -> (5.5862, 197.9634) centre (6.2763, 195.3876) ccw
  arc A2 (-11.2263, 301.7146) -> (-14.8449, 299.0854) centre (-12.1819, 299.225) ccw
  line L5 (-3.25, 212.3817) -> (-3.25, 279.0483) projected
  line L6 (-14.8449, 299.0854) -> (-9.5081, 197.2536)
  arc A3 (-9.5081, 197.2536) -> (-6.155, 194.8174) centre (-6.8451, 197.3932) ccw
  line L7 (-1.9167, 211.0483) -> (1.9167, 211.0483) projected
  line L8 (1.9167, 280.3817) -> (-1.9167, 280.3817) projected
  arc A4 (115.2355, -321.3214) -> (-115.2299, -321.3234) centre (0, 0) ccw
  line L9 (16.5771, 340.9846) -> (16.5774, 340.9903)
  arc A5 (-190.5375, 51.9119) -> (-187.1843, 54.3482) centre (-189.8473, 54.4877) ccw
  line L10 (-186.5481, 66.4868) -> (-187.1843, 54.3482)
  arc A6 (-182.9295, 68.8368) -> (-186.5481, 66.4868) centre (-183.8851, 66.3472) ccw
  arc A7 (-275.714, 100.7144) -> (-276.8308, 104.8821) centre (-277.7864, 102.3926) ccw
  line L11 (-289.0345, 78.3041) -> (-190.5375, 51.9119)
  arc A8 (-290.4167, 82.5581) -> (-289.0345, 78.3041) centre (-288.3443, 80.8799) ccw
  line L12 (-290.4167, 82.5581) -> (-275.714, 100.7144)
  line L13 (-276.8308, 104.8821) -> (-319.1731, 121.1358)
  line L14 (-140.5872, 52.5831) -> (-182.9295, 68.8368)
  line L15 (-319.1731, 121.1358) -> (-319.1784, 121.1378)
  arc A9 (184.6611, 69.9975) -> (183.3803, 66.0556) centre (185.6168, 67.508) ccw
  line L16 (190.0006, 55.8613) -> (183.3803, 66.0556)
  arc A10 (188.4543, 51.8331) -> (190.0006, 55.8613) centre (187.7641, 54.4089) ccw
  arc A11 (282.2558, 80.581) -> (285.609, 77.8656) centre (284.9188, 80.4414) ccw
  line L17 (279.8598, 106.5409) -> (184.6611, 69.9975)
  arc A12 (283.4785, 103.9117) -> (279.8598, 106.5409) centre (280.8155, 104.0513) ccw
  line L18 (283.4785, 103.9117) -> (282.2558, 80.581)
  line L19 (285.609, 77.8656) -> (329.4183, 89.6043)
  line L20 (144.645, 40.0945) -> (188.4543, 51.8331)
  line L21 (329.4183, 89.6043) -> (329.4238, 89.6058)
  circle A13 centre (0, 0) radius 150.07
  line L22 (-140.5872, 52.5831) -> (-140.5479, 52.568)
  line L23 (144.645, 40.0945) -> (144.5122, 40.0589)
  line L24 (6.5657, 149.9554) -> (6.5621, 149.8874)
  arc A14 (-77.7244, -128.3741) -> (77.7297, -128.3709) centre (0, 0) ccw projected
  arc A15 (115.2355, -321.3214) -> (-115.2299, -321.3234) centre (0, 0) ccw projected
  line L25 (77.7297, -128.3709) -> (115.2355, -321.3214)
  line L26 (-77.7244, -128.3741) -> (-115.2299, -321.3234)
  point P0 (-77.7399, -128.3998)
  point P1 (77.7399, -128.3998)
  point P2 (-319.1475, 121.126)
  point P3 (-140.56, 52.5727)
  point P4 (6.5642, 149.9264)
  point P5 (16.5757, 340.9573)
  point P6 (329.3918, 89.5972)
  point P7 (144.6169, 40.0869)
  dimension "d63" = 2.6667
  dimension "d64" = 3
  dimension "d66" = 3
  dimension "d67" = 2.6667
  dimension "d68" = 2.6667
  dimension "d70" = 72
  dimension "d71" = 72
  dimension "d94" = 300.14
  dimension "d95" = 682.72
sketch "Sketch6" plane through (0, 6, 0) normal (0, 1, 0) x (1, 0, 0)
  line L0 (188.7727, -264.2184) -> (198.4809, -257.165)
  line L1 (194.6603, -251.9064) -> (184.9521, -258.9598)
  line L2 (161.3912, -227.6651) -> (122.2055, -173.7307) projected
  line L3 (166.3548, -225.7069) -> (163.2536, -227.9601) projected
  arc A0 (195.5915, -252.0539) -> (194.6603, -251.9064) centre (195.0522, -252.4457) ccw
  arc A1 (198.4809, -257.165) -> (198.6284, -256.2338) centre (198.0891, -256.6256) ccw
  arc A2 (187.8415, -264.0709) -> (188.7727, -264.2184) centre (188.3809, -263.6791) ccw
  arc A3 (184.9521, -258.9598) -> (184.8046, -259.891) centre (185.344, -259.4991) ccw
  line L4 (184.8046, -259.891) -> (187.8415, -264.0709)
  line L5 (198.6284, -256.2338) -> (195.5915, -252.0539)
  line L6 (122.2055, -173.7307) -> (161.3912, -227.6651) projected
  line L7 (141.7983, -200.6979) -> (147.057, -196.8773)
  line L8 (166.6498, -223.8445) -> (127.4641, -169.9101) projected
  line L9 (95.9027, -136.3937) -> (105.6109, -129.3403)
  line L10 (109.4315, -134.5989) -> (99.7233, -141.6523)
  arc A4 (109.4315, -134.5989) -> (109.579, -133.6677) centre (109.0396, -134.0596) ccw
  arc A5 (106.5421, -129.4878) -> (105.6109, -129.3403) centre (106.0027, -129.8796) ccw
  arc A6 (95.9027, -136.3937) -> (95.7552, -137.3249) centre (96.2945, -136.9331) ccw
  arc A7 (98.7921, -141.5048) -> (99.7233, -141.6523) centre (99.3314, -141.113) ccw
  line L11 (98.7921, -141.5048) -> (95.7552, -137.3249)
  line L12 (106.5421, -129.4878) -> (109.579, -133.6677)
  point P0 (0, 0)
  dimension "d104" = 6.5
  dimension "d105" = 12
  dimension "d108" = 1.3333
  dimension "d109" = 1.3333
  dimension "d110" = 1.3333
  dimension "d111" = 1.3333
  dimension "d112" = 0
  dimension "d149" = 145
  dimension "d150" = 90
  dimension "d151" = 90
  dimension "d152" = 90
  dimension "d153" = 90
extrude "Extrusion7" cut sketch "Sketch6" against normal through all
pattern_circular "Circular Pattern2" count 2 over 72 about axis through (0, -10, 0) along (0, 1, 0) of "Extrusion7"
pattern_circular "Circular Pattern3" count 2 over 144 about axis through (0, -10, 0) along (0, 1, 0) of "Extrusion7"
mirror "Mirror3" about plane through (0, 0, 0) normal (1, 0, 0) of "Extrusion7"
pattern_circular "Circular Pattern4" count 2 over 144 about axis through (0, -10, 0) along (0, -1, 0) of "Extrusion7"
equation "\"BendRadius\" = Thickness"
equation "\"BendReliefWidth\" = Thickness"
equation "\"BendReliefDepth\" = 0.5 * Thickness"
equation "\"CornerReliefSize\" = 4 * Thickness"
equation "\"MinimumRemnant\" = 2 * Thickness"
equation "\"TransitionRadius\" = BendRadius"
equation "\"JacobiRadiusSize\" = BendRadius"
equation "\"GapSize\" = Thickness"
equation "\"Thickness\" = 0.5"
properties part number "Ring D Full"
